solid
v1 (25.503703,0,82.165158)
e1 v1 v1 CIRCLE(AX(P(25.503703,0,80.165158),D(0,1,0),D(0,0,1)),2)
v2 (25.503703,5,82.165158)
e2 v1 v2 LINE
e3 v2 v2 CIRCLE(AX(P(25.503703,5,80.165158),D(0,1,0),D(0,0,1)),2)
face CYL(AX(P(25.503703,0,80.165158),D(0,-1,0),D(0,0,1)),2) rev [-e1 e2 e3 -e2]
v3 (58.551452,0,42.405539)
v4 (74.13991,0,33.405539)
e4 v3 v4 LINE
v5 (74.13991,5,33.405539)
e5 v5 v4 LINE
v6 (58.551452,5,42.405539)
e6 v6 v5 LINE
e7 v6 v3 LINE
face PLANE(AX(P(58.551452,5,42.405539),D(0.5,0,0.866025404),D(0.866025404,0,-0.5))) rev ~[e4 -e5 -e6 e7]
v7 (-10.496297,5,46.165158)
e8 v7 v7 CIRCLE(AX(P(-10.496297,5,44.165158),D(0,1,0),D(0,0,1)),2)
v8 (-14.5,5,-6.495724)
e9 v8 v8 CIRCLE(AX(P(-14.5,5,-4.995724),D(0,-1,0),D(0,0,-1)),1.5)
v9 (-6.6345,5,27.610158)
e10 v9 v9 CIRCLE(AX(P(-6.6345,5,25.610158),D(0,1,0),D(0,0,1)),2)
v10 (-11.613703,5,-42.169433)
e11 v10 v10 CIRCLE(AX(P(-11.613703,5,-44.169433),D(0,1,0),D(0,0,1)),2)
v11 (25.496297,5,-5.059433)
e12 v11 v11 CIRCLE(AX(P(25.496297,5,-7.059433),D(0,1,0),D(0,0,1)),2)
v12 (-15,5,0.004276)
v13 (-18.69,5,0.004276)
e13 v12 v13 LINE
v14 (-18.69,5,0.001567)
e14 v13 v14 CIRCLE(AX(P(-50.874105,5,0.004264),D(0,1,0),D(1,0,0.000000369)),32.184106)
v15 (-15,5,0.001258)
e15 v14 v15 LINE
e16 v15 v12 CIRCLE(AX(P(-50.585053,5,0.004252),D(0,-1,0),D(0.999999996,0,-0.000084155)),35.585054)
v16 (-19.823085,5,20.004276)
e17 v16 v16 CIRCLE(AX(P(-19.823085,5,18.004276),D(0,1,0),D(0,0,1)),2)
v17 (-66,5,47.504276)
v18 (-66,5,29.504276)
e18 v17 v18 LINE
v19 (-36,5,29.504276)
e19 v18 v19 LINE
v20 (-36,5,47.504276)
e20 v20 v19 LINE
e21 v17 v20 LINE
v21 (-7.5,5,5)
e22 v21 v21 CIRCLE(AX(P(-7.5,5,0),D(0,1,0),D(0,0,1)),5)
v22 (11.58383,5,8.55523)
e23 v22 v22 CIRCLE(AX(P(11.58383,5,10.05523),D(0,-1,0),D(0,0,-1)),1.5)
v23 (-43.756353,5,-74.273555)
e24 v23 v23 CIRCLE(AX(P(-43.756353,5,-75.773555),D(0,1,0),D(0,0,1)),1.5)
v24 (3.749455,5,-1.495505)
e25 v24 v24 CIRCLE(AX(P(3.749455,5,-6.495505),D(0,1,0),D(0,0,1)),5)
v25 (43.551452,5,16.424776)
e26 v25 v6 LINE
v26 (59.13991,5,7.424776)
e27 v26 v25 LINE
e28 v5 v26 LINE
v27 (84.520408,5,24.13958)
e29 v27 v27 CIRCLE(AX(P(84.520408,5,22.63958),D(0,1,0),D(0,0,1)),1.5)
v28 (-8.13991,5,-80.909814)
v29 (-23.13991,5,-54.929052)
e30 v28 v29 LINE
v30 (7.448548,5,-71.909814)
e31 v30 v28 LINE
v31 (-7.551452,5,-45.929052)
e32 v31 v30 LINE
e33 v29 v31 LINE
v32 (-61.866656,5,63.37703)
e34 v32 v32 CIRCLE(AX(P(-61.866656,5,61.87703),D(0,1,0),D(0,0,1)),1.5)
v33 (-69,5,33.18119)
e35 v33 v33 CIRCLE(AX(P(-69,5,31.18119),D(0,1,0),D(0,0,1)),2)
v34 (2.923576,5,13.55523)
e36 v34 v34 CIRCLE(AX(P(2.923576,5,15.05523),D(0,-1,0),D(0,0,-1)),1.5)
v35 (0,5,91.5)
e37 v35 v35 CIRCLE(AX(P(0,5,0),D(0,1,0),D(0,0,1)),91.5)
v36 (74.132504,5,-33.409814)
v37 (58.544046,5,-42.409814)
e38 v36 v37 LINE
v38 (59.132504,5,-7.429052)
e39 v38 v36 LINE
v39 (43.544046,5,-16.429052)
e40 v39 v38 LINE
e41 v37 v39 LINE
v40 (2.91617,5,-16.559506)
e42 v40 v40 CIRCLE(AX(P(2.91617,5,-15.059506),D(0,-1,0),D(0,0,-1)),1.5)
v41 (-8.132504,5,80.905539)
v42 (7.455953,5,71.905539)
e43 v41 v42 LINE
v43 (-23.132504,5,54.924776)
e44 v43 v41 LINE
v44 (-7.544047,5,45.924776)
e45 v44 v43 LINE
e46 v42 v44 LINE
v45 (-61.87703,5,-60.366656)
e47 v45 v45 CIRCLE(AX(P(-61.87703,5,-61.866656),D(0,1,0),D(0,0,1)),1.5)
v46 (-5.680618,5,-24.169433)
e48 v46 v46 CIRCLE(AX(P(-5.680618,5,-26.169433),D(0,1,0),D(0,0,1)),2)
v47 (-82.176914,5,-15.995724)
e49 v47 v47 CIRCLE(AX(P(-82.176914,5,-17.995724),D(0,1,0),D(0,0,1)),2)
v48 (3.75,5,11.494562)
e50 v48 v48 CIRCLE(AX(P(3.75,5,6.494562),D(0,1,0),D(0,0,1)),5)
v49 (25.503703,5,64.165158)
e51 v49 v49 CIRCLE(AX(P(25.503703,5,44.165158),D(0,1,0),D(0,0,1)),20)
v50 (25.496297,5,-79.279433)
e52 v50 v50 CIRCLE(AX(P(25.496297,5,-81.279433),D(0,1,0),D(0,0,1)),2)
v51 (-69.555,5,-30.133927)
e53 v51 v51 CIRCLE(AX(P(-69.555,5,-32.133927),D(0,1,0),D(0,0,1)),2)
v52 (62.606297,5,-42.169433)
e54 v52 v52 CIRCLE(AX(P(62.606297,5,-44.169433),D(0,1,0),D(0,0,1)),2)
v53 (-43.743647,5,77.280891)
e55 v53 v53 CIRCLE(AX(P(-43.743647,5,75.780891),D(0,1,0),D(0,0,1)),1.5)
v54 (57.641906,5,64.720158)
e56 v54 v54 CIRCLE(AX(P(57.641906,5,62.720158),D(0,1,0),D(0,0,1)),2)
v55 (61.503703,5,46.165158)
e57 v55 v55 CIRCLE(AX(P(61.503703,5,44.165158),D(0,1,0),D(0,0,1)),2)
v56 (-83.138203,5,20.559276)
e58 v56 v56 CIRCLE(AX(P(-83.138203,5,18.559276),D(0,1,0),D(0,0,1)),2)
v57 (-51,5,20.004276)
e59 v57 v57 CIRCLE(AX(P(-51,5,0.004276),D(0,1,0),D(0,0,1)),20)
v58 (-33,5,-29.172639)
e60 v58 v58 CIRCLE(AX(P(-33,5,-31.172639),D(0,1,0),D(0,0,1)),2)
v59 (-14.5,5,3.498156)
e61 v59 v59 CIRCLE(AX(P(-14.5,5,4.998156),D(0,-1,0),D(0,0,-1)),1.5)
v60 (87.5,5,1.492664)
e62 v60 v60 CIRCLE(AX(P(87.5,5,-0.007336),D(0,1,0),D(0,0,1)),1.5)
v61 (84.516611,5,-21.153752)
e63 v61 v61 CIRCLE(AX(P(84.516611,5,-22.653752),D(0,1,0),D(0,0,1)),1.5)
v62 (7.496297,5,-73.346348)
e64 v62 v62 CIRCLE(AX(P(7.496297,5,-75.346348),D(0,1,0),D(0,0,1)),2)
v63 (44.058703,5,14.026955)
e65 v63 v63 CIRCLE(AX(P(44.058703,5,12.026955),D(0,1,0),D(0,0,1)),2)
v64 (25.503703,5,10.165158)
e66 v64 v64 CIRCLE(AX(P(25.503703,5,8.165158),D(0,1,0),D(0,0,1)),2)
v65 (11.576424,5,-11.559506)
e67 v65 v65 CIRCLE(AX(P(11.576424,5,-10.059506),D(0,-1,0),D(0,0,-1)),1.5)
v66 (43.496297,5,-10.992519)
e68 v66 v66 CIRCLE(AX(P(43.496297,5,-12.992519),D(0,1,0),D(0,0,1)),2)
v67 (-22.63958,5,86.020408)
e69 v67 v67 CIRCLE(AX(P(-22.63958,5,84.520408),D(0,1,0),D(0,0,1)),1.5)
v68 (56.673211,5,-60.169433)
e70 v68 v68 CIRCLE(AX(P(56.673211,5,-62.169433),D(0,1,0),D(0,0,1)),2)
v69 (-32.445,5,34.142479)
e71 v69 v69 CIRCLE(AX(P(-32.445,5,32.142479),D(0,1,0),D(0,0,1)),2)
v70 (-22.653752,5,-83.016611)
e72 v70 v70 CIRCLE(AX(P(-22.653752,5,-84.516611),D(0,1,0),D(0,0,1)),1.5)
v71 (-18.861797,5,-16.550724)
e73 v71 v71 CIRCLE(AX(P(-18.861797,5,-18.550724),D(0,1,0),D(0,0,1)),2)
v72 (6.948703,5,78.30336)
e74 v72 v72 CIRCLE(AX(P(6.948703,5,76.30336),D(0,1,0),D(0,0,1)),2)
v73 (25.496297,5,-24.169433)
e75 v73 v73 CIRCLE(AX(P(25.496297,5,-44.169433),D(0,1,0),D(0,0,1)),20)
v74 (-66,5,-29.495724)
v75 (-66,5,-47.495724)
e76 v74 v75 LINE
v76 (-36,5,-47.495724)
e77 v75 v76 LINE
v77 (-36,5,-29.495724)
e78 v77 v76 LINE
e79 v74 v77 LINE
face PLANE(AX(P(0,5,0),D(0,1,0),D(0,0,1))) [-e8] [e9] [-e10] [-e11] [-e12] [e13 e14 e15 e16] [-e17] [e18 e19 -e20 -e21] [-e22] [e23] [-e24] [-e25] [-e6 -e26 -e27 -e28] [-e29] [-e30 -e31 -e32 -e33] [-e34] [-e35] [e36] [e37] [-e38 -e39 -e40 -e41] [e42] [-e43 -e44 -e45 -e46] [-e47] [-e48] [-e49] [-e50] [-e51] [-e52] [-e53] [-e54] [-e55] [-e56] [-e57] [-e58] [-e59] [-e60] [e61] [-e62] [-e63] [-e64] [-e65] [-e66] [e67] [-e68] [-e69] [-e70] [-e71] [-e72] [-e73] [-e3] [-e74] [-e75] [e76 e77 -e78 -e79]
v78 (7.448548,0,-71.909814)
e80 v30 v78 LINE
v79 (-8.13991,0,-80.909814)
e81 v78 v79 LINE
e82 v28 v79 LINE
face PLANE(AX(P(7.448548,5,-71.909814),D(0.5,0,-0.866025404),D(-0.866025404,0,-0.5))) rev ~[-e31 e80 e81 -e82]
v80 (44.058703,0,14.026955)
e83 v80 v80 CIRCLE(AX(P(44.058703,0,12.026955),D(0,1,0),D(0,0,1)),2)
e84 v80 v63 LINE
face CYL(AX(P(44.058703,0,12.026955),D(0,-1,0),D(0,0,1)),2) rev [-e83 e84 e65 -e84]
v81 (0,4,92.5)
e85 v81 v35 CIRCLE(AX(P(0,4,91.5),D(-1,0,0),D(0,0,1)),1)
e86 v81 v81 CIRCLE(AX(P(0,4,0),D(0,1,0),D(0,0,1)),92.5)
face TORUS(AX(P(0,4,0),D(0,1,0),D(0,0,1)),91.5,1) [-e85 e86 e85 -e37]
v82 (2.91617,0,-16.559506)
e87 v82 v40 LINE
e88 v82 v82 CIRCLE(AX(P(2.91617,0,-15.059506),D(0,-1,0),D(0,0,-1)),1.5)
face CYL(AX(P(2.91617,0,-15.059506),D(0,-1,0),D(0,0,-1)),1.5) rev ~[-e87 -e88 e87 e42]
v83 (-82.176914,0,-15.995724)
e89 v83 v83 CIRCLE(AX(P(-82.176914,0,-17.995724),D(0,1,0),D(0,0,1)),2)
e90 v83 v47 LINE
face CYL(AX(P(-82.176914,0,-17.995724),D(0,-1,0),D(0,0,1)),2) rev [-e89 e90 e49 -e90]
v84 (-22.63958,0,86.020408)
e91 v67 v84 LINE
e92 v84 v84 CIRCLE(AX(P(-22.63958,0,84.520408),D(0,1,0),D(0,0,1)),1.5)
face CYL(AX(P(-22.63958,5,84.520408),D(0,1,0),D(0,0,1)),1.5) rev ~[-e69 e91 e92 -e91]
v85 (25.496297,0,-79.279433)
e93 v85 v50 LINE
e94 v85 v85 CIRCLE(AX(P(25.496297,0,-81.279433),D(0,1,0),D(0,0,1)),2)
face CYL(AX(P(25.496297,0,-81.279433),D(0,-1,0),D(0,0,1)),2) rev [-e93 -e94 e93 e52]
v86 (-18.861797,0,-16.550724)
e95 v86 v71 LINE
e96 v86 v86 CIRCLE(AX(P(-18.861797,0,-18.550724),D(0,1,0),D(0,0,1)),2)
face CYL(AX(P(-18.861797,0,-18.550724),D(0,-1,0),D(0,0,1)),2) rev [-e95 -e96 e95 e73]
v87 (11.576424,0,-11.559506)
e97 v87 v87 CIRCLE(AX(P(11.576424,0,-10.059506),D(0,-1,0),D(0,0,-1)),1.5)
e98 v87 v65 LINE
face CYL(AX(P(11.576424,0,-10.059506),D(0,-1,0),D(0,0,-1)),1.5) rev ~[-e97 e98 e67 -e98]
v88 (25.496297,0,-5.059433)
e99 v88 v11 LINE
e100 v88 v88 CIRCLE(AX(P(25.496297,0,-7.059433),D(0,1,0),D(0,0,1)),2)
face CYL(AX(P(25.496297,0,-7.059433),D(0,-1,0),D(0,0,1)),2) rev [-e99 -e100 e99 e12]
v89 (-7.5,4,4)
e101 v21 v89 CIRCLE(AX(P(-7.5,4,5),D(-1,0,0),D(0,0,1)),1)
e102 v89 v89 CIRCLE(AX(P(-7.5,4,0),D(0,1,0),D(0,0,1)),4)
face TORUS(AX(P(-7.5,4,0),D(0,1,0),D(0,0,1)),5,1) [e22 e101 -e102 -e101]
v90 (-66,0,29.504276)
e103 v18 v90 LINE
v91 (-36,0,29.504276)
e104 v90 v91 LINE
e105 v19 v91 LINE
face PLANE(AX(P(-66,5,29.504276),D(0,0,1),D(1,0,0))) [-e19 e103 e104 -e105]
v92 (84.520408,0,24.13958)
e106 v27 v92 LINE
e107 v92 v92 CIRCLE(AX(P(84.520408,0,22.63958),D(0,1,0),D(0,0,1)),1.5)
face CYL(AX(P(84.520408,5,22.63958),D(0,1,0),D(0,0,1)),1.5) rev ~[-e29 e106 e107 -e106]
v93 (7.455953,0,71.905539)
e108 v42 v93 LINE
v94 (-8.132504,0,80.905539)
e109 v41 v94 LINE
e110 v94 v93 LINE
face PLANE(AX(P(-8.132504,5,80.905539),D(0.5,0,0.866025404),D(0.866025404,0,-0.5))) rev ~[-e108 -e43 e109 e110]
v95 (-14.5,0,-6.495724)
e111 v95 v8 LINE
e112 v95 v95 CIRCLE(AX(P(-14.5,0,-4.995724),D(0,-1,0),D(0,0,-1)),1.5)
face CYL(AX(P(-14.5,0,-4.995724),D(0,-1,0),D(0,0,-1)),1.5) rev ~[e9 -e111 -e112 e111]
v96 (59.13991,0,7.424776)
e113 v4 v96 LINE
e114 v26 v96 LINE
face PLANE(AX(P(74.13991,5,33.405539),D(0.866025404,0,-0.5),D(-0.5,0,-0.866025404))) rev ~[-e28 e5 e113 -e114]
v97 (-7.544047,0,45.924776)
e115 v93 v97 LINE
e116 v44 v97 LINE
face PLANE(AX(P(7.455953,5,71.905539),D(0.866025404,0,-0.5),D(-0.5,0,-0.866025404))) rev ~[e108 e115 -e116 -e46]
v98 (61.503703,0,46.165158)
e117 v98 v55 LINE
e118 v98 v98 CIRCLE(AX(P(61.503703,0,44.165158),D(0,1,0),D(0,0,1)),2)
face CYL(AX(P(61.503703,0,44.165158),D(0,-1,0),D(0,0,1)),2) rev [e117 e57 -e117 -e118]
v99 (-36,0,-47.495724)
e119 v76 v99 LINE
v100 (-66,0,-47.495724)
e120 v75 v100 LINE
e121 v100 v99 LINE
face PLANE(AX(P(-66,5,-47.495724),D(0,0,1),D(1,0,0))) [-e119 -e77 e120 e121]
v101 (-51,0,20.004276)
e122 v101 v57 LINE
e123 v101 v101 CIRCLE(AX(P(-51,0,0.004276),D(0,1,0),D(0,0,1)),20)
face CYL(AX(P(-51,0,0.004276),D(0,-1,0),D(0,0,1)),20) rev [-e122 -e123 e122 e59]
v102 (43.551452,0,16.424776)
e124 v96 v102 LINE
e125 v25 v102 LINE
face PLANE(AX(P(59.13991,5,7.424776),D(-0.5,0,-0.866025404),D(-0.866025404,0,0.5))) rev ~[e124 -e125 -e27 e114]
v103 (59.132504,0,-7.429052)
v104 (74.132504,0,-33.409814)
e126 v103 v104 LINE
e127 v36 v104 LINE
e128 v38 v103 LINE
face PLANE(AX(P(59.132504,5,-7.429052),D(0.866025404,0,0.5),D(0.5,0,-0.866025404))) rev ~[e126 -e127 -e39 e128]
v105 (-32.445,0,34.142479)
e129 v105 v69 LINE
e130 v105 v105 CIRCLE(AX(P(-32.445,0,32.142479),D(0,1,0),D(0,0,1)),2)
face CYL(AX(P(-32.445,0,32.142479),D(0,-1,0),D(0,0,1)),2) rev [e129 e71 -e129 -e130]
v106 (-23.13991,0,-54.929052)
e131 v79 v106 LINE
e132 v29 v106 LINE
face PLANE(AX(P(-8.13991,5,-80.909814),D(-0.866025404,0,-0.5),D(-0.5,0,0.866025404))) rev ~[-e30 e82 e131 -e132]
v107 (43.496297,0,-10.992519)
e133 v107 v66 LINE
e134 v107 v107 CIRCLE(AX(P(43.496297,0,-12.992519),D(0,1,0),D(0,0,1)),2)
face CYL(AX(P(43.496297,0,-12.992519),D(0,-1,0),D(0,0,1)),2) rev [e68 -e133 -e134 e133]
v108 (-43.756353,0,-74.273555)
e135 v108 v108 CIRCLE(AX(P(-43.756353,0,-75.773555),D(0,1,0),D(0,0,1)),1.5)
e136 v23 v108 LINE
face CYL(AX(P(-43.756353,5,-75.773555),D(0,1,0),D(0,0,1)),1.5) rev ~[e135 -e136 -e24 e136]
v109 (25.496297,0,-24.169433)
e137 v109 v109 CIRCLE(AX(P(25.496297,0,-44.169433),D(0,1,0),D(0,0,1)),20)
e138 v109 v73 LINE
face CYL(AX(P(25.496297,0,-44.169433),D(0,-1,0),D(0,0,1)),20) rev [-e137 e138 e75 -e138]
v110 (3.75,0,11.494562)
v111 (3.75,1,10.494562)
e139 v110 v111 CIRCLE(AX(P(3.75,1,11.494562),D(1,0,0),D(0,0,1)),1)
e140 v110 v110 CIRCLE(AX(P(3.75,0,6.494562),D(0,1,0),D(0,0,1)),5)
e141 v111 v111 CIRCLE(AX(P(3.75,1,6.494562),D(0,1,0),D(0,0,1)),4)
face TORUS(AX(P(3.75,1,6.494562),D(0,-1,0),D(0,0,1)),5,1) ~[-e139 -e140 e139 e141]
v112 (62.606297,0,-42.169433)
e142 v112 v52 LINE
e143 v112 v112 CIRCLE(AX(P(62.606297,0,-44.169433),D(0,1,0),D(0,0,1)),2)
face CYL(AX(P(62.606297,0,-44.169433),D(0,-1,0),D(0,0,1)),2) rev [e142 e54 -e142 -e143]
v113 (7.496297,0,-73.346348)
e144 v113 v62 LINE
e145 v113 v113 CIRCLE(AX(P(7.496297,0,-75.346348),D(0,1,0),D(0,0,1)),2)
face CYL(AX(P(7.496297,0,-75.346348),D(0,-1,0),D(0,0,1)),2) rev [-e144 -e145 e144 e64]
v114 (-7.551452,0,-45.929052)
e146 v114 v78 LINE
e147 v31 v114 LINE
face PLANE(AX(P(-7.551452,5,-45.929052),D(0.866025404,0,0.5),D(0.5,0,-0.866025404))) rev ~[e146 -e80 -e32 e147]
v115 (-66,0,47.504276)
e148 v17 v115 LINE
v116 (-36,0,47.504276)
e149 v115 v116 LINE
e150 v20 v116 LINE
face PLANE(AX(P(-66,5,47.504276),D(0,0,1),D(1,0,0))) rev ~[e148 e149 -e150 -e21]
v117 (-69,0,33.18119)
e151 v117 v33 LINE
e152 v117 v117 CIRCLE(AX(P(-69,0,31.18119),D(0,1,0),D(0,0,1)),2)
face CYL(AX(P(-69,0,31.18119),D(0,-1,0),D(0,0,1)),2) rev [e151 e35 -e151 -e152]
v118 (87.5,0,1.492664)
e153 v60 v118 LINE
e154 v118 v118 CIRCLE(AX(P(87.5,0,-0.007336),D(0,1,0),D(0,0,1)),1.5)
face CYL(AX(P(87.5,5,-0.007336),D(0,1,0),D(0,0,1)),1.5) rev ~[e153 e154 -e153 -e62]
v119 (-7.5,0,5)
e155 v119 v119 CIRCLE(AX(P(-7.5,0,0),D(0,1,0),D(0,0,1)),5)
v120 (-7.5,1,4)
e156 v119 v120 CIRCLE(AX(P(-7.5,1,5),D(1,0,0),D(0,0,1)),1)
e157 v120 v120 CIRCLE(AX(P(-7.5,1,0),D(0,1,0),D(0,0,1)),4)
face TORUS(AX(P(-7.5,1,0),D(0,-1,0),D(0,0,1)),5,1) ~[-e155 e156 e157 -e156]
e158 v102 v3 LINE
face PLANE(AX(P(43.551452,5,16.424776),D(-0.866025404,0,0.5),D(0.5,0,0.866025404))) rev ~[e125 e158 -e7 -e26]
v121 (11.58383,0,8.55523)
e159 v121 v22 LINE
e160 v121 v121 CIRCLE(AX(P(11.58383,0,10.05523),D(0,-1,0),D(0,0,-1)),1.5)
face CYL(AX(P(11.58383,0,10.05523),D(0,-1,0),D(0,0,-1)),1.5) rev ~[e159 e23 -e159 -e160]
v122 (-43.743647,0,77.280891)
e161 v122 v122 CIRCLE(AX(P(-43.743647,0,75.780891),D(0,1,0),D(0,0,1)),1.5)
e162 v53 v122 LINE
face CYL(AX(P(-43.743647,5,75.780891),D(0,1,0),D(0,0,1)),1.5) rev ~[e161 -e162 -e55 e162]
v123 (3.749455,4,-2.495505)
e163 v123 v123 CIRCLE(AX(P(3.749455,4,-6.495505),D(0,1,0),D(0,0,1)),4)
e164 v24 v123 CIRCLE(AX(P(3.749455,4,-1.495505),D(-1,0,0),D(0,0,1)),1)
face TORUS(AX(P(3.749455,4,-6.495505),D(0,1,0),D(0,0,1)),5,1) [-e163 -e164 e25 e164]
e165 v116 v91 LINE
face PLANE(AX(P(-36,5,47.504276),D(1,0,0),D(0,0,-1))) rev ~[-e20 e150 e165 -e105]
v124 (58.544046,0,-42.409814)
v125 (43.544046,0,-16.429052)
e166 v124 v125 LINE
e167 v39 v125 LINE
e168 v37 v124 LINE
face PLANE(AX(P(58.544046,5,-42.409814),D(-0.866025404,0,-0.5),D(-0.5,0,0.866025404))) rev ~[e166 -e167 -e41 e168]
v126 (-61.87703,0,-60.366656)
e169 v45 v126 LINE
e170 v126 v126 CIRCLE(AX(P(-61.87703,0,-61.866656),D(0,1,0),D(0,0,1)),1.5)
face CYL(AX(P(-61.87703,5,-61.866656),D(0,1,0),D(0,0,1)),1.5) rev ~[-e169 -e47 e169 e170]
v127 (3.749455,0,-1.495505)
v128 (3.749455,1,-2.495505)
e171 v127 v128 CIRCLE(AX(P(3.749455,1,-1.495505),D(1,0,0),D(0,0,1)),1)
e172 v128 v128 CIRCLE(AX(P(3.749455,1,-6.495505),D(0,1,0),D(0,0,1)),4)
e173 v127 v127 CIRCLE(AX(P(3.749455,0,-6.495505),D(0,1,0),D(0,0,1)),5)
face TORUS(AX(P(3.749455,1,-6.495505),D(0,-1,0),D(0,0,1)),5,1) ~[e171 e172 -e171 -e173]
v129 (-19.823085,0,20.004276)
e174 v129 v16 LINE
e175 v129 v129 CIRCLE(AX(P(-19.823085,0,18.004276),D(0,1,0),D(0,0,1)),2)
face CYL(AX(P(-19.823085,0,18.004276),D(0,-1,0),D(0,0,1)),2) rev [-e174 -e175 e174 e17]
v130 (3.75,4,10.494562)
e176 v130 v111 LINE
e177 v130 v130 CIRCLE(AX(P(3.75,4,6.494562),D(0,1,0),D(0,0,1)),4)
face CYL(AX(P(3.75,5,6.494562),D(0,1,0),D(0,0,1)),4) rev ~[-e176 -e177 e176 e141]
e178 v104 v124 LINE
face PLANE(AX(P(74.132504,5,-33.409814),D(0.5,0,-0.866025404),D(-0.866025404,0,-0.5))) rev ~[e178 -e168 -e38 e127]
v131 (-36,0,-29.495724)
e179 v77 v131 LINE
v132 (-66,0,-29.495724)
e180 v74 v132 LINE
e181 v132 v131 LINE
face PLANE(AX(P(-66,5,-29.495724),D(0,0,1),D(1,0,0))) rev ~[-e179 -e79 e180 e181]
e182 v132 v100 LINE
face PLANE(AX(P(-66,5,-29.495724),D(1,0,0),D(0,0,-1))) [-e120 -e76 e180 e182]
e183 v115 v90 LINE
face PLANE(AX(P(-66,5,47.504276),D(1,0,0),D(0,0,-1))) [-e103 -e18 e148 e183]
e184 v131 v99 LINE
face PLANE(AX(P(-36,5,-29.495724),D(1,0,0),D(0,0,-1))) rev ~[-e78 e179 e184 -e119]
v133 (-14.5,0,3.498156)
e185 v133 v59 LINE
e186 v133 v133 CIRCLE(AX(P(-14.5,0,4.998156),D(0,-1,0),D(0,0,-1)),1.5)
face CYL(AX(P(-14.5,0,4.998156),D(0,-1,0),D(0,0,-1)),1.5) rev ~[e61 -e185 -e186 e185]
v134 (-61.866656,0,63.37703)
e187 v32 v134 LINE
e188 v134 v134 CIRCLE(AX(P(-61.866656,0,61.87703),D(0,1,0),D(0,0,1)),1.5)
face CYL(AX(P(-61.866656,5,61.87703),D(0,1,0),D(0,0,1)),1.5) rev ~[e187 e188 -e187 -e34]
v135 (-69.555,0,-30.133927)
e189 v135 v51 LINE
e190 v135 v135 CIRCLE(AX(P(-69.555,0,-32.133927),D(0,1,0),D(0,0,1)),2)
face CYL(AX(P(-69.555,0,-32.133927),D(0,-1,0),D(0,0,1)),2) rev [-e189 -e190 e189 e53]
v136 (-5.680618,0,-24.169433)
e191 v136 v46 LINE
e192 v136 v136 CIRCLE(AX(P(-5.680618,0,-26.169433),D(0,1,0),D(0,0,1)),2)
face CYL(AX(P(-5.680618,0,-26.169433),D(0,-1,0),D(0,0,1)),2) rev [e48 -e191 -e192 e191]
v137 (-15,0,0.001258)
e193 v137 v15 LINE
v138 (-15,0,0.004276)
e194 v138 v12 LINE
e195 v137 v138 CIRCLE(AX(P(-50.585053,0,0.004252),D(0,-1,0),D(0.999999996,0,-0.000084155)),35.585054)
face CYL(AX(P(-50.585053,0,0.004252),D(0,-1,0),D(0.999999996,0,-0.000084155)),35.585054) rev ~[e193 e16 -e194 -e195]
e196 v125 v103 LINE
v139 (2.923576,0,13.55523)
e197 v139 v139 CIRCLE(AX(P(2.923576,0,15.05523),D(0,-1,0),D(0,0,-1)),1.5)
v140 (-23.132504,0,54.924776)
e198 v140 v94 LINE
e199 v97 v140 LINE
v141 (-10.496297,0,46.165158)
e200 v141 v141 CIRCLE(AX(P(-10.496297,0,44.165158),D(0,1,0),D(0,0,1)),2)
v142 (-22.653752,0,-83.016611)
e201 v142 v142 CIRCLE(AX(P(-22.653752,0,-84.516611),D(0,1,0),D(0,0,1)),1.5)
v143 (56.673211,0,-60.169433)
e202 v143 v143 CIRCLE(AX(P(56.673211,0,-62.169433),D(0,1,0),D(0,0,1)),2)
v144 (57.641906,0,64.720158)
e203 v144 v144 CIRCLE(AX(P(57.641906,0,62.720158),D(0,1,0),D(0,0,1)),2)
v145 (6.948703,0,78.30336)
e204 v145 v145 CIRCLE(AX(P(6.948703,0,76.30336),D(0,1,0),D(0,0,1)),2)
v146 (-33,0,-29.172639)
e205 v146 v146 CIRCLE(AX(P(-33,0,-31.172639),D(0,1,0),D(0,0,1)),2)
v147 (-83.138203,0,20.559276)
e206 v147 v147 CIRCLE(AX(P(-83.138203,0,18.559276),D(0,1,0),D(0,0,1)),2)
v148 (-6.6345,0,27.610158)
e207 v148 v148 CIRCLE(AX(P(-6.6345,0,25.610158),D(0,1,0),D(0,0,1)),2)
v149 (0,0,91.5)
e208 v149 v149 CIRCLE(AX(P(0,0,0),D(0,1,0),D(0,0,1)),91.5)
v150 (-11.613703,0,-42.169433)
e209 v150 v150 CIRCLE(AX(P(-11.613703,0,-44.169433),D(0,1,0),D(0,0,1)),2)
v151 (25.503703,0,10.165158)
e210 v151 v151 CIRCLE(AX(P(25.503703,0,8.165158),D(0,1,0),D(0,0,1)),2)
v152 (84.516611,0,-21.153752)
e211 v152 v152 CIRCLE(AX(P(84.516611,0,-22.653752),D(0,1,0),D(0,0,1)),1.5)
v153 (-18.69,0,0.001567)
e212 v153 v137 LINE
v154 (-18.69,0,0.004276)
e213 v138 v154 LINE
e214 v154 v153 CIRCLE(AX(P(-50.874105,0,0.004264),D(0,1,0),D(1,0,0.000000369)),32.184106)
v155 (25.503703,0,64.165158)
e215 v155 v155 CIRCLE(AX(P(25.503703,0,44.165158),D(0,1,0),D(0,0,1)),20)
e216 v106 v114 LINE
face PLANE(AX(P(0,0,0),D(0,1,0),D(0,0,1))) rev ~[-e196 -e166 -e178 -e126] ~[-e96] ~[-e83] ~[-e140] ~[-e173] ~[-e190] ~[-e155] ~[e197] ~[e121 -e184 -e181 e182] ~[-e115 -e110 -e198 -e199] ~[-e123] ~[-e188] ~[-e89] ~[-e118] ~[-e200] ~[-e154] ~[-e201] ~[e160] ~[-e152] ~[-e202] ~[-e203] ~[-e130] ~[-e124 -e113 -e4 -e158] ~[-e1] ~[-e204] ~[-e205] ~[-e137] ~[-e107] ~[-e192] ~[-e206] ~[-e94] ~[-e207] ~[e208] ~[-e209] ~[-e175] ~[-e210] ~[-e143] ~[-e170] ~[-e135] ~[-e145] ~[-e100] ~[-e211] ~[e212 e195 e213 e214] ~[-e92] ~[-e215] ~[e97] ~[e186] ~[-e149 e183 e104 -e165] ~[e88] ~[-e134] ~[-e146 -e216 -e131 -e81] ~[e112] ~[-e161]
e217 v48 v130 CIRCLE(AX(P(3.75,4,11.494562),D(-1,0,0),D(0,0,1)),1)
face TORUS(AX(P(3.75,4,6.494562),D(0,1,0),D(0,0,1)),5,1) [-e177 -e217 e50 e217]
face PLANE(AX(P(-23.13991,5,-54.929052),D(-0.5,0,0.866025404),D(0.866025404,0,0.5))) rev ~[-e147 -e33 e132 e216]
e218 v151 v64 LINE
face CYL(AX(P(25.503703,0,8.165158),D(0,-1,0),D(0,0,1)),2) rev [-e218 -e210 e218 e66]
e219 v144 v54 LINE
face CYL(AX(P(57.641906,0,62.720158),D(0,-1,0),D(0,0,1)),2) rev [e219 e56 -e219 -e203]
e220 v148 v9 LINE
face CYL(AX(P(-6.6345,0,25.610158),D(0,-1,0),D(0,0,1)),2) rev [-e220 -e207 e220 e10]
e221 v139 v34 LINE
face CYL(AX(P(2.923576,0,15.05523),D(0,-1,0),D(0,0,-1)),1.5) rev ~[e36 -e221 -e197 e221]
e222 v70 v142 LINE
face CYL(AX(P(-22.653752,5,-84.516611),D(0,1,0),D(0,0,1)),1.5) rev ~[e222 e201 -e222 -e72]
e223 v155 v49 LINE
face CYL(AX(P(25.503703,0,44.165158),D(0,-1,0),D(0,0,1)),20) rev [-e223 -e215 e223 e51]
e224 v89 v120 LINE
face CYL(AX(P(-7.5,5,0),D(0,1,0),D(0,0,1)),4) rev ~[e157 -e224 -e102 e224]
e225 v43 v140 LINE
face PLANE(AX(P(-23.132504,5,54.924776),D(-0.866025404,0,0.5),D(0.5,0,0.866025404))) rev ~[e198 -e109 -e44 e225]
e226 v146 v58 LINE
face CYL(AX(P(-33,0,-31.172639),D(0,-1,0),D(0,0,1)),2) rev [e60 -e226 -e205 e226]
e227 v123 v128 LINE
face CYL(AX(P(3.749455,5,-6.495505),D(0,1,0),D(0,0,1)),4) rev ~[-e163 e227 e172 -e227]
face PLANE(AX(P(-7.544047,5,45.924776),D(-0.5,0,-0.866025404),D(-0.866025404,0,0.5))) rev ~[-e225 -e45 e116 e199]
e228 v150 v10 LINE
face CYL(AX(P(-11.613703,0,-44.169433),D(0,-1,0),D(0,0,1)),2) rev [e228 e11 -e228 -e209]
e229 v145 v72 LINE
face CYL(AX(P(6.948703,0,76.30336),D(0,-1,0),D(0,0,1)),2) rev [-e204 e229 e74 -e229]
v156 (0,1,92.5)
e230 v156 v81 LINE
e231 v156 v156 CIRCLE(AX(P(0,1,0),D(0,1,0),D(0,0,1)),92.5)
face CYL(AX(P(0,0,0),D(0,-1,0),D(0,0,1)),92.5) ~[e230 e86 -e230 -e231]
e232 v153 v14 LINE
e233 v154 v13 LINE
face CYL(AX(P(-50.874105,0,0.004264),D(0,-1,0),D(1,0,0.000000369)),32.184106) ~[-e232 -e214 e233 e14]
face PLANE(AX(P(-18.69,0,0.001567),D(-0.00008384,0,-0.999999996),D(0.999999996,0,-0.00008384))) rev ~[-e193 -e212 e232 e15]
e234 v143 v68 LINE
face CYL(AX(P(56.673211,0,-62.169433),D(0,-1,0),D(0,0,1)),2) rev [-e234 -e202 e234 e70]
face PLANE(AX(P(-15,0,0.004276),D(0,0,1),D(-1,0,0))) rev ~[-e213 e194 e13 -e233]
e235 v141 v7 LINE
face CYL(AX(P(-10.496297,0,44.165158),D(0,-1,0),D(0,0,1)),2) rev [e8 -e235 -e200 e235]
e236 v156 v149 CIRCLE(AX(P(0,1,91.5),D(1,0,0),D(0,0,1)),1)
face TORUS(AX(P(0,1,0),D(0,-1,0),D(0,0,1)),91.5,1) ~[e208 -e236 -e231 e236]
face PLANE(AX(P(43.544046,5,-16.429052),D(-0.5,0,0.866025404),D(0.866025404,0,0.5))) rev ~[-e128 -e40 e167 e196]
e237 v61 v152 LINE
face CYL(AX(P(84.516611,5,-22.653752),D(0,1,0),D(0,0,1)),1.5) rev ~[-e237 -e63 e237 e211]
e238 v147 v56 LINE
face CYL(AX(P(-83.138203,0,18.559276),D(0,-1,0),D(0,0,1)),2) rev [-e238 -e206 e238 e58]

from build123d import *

# Parameters (mm, degrees)
SKETCH1_R           = 92.5
SKETCH1_R_2         = 2
SKETCH1_R_3         = 20
BOSS_EXTRUDE1_DEPTH = 5
SKETCH4_W           = 30
SKETCH4_H           = 18
CUT_EXTRUDE5_DEPTH  = 5
SKETCH8_R           = 1.5
CUT_EXTRUDE6_DEPTH  = 131.910274616
FILLET2_R           = 1
SKETCH10_R          = 4
CUT_EXTRUDE7_DEPTH  = 10
FILLET3_R           = 1
SKETCH12_R          = 1.5
CUT_EXTRUDE8_DEPTH  = 131.910274687


with BuildPart() as part:
    # Sketch1 → Boss-Extrude1 (new body)
    with BuildSketch(Plane(origin=(0, 0, 0), x_dir=(1, 0, 0), z_dir=(0, 1, 0))):
        with Locations(Location((0, 0, 0), (0, 0, 270))):
            Circle(SKETCH1_R)
        with BuildLine():
            Line((-18.689999934, -0.001566969), (-14.999999947, -0.001257599))
            ThreePointArc((-14.999999947, -0.001257599), (-14.999999852, -0.002766719), (-14.999999821, -0.004275838))
            Line((-14.999999821, -0.004275838), (-18.689999821, -0.004275838))
            ThreePointArc((-18.689999821, -0.004275838), (-18.689999849, -0.002921404), (-18.689999934, -0.001566969))
        make_face(mode=Mode.SUBTRACT)
        with Locations(Location((-18.861797086, 18.550724162, 0), (0, 0, 270))):
            Circle(SKETCH1_R_2, mode=Mode.SUBTRACT)
        with Locations(Location((-32.999999821, 31.172638698, 0), (0, 0, 270))):
            Circle(SKETCH1_R_2, mode=Mode.SUBTRACT)
        with Locations(Location((-69.554999821, 32.133926896, 0), (0, 0, 270))):
            Circle(SKETCH1_R_2, mode=Mode.SUBTRACT)
        with Locations(Location((-82.176914357, 17.995724162, 0), (0, 0, 270))):
            Circle(SKETCH1_R_2, mode=Mode.SUBTRACT)
        with Locations(Location((-83.138202555, -18.559275838, 0), (0, 0, 270))):
            Circle(SKETCH1_R_2, mode=Mode.SUBTRACT)
        with Locations(Location((-68.999999821, -31.181190374, 0), (0, 0, 270))):
            Circle(SKETCH1_R_2, mode=Mode.SUBTRACT)
        with Locations(Location((-32.444999821, -32.142478573, 0), (0, 0, 270))):
            Circle(SKETCH1_R_2, mode=Mode.SUBTRACT)
        with Locations(Location((-19.823085285, -18.004275838, 0), (0, 0, 270))):
            Circle(SKETCH1_R_2, mode=Mode.SUBTRACT)
        with Locations(Location((-50.999999821, -0.004275838, 0), (0, 0, 270))):
            Circle(SKETCH1_R_3, mode=Mode.SUBTRACT)
        with Locations(Location((25.503702895, -8.165157519, 0), (0, 0, 270))):
            Circle(SKETCH1_R_2, mode=Mode.SUBTRACT)
        with Locations(Location((56.673211462, 62.169433357, 0), (0, 0, 270))):
            Circle(SKETCH1_R_2, mode=Mode.SUBTRACT)
        with Locations(Location((44.058702895, -12.026954784, 0), (0, 0, 270))):
            Circle(SKETCH1_R_2, mode=Mode.SUBTRACT)
        with Locations(Location((62.606296926, 44.169433357, 0), (0, 0, 270))):
            Circle(SKETCH1_R_2, mode=Mode.SUBTRACT)
        with Locations(Location((25.496296926, 81.279433357, 0), (0, 0, 270))):
            Circle(SKETCH1_R_2, mode=Mode.SUBTRACT)
        with Locations(Location((-11.613703074, 44.169433357, 0), (0, 0, 270))):
            Circle(SKETCH1_R_2, mode=Mode.SUBTRACT)
        with Locations(Location((25.496296926, 7.059433357, 0), (0, 0, 270))):
            Circle(SKETCH1_R_2, mode=Mode.SUBTRACT)
        with Locations(Location((7.496296926, 75.346347893, 0), (0, 0, 270))):
            Circle(SKETCH1_R_2, mode=Mode.SUBTRACT)
        with Locations(Location((-5.68061761, 26.169433357, 0), (0, 0, 270))):
            Circle(SKETCH1_R_2, mode=Mode.SUBTRACT)
        with Locations(Location((25.496296926, 44.169433357, 0), (0, 0, 270))):
            Circle(SKETCH1_R_3, mode=Mode.SUBTRACT)
        with Locations(Location((43.496296926, 12.992518821, 0), (0, 0, 270))):
            Circle(SKETCH1_R_2, mode=Mode.SUBTRACT)
        with Locations(Location((6.948702895, -76.303360253, 0), (0, 0, 270))):
            Circle(SKETCH1_R_2, mode=Mode.SUBTRACT)
        with Locations(Location((25.503702895, -80.165157519, 0), (0, 0, 270))):
            Circle(SKETCH1_R_2, mode=Mode.SUBTRACT)
        with Locations(Location((-10.496297105, -44.165157519, 0), (0, 0, 270))):
            Circle(SKETCH1_R_2, mode=Mode.SUBTRACT)
        with Locations(Location((25.503702895, -44.165157519, 0), (0, 0, 270))):
            Circle(SKETCH1_R_3, mode=Mode.SUBTRACT)
        with Locations(Location((57.641905629, -62.720157519, 0), (0, 0, 270))):
            Circle(SKETCH1_R_2, mode=Mode.SUBTRACT)
        with Locations(Location((61.503702895, -44.165157519, 0), (0, 0, 270))):
            Circle(SKETCH1_R_2, mode=Mode.SUBTRACT)
        with Locations(Location((-6.63449984, -25.610157519, 0), (0, 0, 270))):
            Circle(SKETCH1_R_2, mode=Mode.SUBTRACT)
    extrude(amount=BOSS_EXTRUDE1_DEPTH)

    # Sketch4 → Cut-Extrude5 (cut)
    with BuildSketch(Plane(origin=(0, 5, 0), x_dir=(1, 0, 0), z_dir=(0, 1, 0))):
        with Locations((-50.999999821, 38.495724162)):
            Rectangle(SKETCH4_W, SKETCH4_H)
        with Locations((-50.999999821, -38.504275838)):
            Rectangle(SKETCH4_W, SKETCH4_H)
        Polygon((7.448547514, 71.909814414), (-8.139909754, 80.909814414), (-23.139909754, 54.9290523), (-7.551452486, 45.9290523), align=None)
        Polygon((74.132503606, 33.409814414), (58.544046338, 42.409814414), (43.544046338, 16.4290523), (59.132503606, 7.4290523), align=None)
        Polygon((58.551452306, -42.405538575), (74.139909575, -33.405538575), (59.139909575, -7.424776462), (43.551452306, -16.424776462), align=None)
        Polygon((-8.132503785, -80.905538575), (7.455953483, -71.905538575), (-7.544046517, -45.924776462), (-23.132503785, -54.924776462), align=None)
    extrude(amount=-CUT_EXTRUDE5_DEPTH, mode=Mode.SUBTRACT)

    # Sketch8 → Cut-Extrude6 (cut, through all)
    with BuildSketch(Plane(origin=(0, 5, 0), x_dir=(1, 0, 0), z_dir=(0, 1, 0))):
        with Locations(Location((-43.756353006, 75.773554566, 0), (0, 0, 270))):
            Circle(SKETCH8_R)
        with Locations(Location((-22.653752396, 84.516610808, 0), (0, 0, 270))):
            Circle(SKETCH8_R)
        with Locations(Location((-61.877030469, 61.866655803, 0), (0, 0, 270))):
            Circle(SKETCH8_R)
        with Locations(Location((87.499999692, 0.007335997, 0), (0, 0, 270))):
            Circle(SKETCH8_R)
        with Locations(Location((84.516610808, 22.653752396, 0), (0, 0, 270))):
            Circle(SKETCH8_R)
        with Locations(Location((84.520408199, -22.639580338, 0), (0, 0, 270))):
            Circle(SKETCH8_R)
        with Locations(Location((-43.743646687, -75.780890563, 0), (0, 0, 270))):
            Circle(SKETCH8_R)
        with Locations(Location((-22.639580338, -84.520408199, 0), (0, 0, 270))):
            Circle(SKETCH8_R)
        with Locations(Location((-61.866655803, -61.877030469, 0), (0, 0, 270))):
            Circle(SKETCH8_R)
    extrude(amount=-CUT_EXTRUDE6_DEPTH, mode=Mode.SUBTRACT)

    # Fillet2
    fillet2_edges = [part.edges().sort_by_distance(p)[0] for p in [
        (0, 5, -92.5),
        (0, 0, -92.5),
    ]]
    fillet(fillet2_edges, radius=FILLET2_R)

    # Sketch10 → Cut-Extrude7 (cut)
    with BuildSketch(Plane(origin=(0, 5, 0), x_dir=(1, 0, 0), z_dir=(0, 1, 0))):
        with Locations(Location((-7.5, 0, 0), (0, 0, 270))):
            Circle(SKETCH10_R)
        with Locations(Location((3.74945543, 6.495504905, 0), (0, 0, 270))):
            Circle(SKETCH10_R)
        with Locations(Location((3.749999974, -6.494561729, 0), (0, 0, 270))):
            Circle(SKETCH10_R)
    extrude(amount=-CUT_EXTRUDE7_DEPTH, mode=Mode.SUBTRACT)

    # Fillet3
    fillet3_edges = [part.edges().sort_by_distance(p)[0] for p in [
        (-7.5, 0, -4),
        (-7.5, 5, -4),
        (3.74945543, 0, -10.495504905),
        (3.74945543, 5, -10.495504905),
        (3.749999974, 0, 2.494561729),
        (3.749999974, 5, 2.494561729),
    ]]
    fillet(fillet3_edges, radius=FILLET3_R)

    # Sketch12 → Cut-Extrude8 (cut, through all)
    with BuildSketch(Plane.XZ):
        with Locations(Location((-14.499999821, -4.995724162, 0), (0, 0, 270))):
            Circle(SKETCH12_R)
        with Locations(Location((-14.499999821, 4.998155521, 0), (0, 0, 270))):
            Circle(SKETCH12_R)
        with Locations(Location((2.916169907, -15.059506119, 0), (0, 0, 270))):
            Circle(SKETCH12_R)
        with Locations(Location((11.576423945, -10.059506119, 0), (0, 0, 270))):
            Circle(SKETCH12_R)
        with Locations(Location((11.583829914, 10.055230281, 0), (0, 0, 270))):
            Circle(SKETCH12_R)
        with Locations(Location((2.923575876, 15.055230281, 0), (0, 0, 270))):
            Circle(SKETCH12_R)
    extrude(amount=-CUT_EXTRUDE8_DEPTH, mode=Mode.SUBTRACT)


solid = part.part
